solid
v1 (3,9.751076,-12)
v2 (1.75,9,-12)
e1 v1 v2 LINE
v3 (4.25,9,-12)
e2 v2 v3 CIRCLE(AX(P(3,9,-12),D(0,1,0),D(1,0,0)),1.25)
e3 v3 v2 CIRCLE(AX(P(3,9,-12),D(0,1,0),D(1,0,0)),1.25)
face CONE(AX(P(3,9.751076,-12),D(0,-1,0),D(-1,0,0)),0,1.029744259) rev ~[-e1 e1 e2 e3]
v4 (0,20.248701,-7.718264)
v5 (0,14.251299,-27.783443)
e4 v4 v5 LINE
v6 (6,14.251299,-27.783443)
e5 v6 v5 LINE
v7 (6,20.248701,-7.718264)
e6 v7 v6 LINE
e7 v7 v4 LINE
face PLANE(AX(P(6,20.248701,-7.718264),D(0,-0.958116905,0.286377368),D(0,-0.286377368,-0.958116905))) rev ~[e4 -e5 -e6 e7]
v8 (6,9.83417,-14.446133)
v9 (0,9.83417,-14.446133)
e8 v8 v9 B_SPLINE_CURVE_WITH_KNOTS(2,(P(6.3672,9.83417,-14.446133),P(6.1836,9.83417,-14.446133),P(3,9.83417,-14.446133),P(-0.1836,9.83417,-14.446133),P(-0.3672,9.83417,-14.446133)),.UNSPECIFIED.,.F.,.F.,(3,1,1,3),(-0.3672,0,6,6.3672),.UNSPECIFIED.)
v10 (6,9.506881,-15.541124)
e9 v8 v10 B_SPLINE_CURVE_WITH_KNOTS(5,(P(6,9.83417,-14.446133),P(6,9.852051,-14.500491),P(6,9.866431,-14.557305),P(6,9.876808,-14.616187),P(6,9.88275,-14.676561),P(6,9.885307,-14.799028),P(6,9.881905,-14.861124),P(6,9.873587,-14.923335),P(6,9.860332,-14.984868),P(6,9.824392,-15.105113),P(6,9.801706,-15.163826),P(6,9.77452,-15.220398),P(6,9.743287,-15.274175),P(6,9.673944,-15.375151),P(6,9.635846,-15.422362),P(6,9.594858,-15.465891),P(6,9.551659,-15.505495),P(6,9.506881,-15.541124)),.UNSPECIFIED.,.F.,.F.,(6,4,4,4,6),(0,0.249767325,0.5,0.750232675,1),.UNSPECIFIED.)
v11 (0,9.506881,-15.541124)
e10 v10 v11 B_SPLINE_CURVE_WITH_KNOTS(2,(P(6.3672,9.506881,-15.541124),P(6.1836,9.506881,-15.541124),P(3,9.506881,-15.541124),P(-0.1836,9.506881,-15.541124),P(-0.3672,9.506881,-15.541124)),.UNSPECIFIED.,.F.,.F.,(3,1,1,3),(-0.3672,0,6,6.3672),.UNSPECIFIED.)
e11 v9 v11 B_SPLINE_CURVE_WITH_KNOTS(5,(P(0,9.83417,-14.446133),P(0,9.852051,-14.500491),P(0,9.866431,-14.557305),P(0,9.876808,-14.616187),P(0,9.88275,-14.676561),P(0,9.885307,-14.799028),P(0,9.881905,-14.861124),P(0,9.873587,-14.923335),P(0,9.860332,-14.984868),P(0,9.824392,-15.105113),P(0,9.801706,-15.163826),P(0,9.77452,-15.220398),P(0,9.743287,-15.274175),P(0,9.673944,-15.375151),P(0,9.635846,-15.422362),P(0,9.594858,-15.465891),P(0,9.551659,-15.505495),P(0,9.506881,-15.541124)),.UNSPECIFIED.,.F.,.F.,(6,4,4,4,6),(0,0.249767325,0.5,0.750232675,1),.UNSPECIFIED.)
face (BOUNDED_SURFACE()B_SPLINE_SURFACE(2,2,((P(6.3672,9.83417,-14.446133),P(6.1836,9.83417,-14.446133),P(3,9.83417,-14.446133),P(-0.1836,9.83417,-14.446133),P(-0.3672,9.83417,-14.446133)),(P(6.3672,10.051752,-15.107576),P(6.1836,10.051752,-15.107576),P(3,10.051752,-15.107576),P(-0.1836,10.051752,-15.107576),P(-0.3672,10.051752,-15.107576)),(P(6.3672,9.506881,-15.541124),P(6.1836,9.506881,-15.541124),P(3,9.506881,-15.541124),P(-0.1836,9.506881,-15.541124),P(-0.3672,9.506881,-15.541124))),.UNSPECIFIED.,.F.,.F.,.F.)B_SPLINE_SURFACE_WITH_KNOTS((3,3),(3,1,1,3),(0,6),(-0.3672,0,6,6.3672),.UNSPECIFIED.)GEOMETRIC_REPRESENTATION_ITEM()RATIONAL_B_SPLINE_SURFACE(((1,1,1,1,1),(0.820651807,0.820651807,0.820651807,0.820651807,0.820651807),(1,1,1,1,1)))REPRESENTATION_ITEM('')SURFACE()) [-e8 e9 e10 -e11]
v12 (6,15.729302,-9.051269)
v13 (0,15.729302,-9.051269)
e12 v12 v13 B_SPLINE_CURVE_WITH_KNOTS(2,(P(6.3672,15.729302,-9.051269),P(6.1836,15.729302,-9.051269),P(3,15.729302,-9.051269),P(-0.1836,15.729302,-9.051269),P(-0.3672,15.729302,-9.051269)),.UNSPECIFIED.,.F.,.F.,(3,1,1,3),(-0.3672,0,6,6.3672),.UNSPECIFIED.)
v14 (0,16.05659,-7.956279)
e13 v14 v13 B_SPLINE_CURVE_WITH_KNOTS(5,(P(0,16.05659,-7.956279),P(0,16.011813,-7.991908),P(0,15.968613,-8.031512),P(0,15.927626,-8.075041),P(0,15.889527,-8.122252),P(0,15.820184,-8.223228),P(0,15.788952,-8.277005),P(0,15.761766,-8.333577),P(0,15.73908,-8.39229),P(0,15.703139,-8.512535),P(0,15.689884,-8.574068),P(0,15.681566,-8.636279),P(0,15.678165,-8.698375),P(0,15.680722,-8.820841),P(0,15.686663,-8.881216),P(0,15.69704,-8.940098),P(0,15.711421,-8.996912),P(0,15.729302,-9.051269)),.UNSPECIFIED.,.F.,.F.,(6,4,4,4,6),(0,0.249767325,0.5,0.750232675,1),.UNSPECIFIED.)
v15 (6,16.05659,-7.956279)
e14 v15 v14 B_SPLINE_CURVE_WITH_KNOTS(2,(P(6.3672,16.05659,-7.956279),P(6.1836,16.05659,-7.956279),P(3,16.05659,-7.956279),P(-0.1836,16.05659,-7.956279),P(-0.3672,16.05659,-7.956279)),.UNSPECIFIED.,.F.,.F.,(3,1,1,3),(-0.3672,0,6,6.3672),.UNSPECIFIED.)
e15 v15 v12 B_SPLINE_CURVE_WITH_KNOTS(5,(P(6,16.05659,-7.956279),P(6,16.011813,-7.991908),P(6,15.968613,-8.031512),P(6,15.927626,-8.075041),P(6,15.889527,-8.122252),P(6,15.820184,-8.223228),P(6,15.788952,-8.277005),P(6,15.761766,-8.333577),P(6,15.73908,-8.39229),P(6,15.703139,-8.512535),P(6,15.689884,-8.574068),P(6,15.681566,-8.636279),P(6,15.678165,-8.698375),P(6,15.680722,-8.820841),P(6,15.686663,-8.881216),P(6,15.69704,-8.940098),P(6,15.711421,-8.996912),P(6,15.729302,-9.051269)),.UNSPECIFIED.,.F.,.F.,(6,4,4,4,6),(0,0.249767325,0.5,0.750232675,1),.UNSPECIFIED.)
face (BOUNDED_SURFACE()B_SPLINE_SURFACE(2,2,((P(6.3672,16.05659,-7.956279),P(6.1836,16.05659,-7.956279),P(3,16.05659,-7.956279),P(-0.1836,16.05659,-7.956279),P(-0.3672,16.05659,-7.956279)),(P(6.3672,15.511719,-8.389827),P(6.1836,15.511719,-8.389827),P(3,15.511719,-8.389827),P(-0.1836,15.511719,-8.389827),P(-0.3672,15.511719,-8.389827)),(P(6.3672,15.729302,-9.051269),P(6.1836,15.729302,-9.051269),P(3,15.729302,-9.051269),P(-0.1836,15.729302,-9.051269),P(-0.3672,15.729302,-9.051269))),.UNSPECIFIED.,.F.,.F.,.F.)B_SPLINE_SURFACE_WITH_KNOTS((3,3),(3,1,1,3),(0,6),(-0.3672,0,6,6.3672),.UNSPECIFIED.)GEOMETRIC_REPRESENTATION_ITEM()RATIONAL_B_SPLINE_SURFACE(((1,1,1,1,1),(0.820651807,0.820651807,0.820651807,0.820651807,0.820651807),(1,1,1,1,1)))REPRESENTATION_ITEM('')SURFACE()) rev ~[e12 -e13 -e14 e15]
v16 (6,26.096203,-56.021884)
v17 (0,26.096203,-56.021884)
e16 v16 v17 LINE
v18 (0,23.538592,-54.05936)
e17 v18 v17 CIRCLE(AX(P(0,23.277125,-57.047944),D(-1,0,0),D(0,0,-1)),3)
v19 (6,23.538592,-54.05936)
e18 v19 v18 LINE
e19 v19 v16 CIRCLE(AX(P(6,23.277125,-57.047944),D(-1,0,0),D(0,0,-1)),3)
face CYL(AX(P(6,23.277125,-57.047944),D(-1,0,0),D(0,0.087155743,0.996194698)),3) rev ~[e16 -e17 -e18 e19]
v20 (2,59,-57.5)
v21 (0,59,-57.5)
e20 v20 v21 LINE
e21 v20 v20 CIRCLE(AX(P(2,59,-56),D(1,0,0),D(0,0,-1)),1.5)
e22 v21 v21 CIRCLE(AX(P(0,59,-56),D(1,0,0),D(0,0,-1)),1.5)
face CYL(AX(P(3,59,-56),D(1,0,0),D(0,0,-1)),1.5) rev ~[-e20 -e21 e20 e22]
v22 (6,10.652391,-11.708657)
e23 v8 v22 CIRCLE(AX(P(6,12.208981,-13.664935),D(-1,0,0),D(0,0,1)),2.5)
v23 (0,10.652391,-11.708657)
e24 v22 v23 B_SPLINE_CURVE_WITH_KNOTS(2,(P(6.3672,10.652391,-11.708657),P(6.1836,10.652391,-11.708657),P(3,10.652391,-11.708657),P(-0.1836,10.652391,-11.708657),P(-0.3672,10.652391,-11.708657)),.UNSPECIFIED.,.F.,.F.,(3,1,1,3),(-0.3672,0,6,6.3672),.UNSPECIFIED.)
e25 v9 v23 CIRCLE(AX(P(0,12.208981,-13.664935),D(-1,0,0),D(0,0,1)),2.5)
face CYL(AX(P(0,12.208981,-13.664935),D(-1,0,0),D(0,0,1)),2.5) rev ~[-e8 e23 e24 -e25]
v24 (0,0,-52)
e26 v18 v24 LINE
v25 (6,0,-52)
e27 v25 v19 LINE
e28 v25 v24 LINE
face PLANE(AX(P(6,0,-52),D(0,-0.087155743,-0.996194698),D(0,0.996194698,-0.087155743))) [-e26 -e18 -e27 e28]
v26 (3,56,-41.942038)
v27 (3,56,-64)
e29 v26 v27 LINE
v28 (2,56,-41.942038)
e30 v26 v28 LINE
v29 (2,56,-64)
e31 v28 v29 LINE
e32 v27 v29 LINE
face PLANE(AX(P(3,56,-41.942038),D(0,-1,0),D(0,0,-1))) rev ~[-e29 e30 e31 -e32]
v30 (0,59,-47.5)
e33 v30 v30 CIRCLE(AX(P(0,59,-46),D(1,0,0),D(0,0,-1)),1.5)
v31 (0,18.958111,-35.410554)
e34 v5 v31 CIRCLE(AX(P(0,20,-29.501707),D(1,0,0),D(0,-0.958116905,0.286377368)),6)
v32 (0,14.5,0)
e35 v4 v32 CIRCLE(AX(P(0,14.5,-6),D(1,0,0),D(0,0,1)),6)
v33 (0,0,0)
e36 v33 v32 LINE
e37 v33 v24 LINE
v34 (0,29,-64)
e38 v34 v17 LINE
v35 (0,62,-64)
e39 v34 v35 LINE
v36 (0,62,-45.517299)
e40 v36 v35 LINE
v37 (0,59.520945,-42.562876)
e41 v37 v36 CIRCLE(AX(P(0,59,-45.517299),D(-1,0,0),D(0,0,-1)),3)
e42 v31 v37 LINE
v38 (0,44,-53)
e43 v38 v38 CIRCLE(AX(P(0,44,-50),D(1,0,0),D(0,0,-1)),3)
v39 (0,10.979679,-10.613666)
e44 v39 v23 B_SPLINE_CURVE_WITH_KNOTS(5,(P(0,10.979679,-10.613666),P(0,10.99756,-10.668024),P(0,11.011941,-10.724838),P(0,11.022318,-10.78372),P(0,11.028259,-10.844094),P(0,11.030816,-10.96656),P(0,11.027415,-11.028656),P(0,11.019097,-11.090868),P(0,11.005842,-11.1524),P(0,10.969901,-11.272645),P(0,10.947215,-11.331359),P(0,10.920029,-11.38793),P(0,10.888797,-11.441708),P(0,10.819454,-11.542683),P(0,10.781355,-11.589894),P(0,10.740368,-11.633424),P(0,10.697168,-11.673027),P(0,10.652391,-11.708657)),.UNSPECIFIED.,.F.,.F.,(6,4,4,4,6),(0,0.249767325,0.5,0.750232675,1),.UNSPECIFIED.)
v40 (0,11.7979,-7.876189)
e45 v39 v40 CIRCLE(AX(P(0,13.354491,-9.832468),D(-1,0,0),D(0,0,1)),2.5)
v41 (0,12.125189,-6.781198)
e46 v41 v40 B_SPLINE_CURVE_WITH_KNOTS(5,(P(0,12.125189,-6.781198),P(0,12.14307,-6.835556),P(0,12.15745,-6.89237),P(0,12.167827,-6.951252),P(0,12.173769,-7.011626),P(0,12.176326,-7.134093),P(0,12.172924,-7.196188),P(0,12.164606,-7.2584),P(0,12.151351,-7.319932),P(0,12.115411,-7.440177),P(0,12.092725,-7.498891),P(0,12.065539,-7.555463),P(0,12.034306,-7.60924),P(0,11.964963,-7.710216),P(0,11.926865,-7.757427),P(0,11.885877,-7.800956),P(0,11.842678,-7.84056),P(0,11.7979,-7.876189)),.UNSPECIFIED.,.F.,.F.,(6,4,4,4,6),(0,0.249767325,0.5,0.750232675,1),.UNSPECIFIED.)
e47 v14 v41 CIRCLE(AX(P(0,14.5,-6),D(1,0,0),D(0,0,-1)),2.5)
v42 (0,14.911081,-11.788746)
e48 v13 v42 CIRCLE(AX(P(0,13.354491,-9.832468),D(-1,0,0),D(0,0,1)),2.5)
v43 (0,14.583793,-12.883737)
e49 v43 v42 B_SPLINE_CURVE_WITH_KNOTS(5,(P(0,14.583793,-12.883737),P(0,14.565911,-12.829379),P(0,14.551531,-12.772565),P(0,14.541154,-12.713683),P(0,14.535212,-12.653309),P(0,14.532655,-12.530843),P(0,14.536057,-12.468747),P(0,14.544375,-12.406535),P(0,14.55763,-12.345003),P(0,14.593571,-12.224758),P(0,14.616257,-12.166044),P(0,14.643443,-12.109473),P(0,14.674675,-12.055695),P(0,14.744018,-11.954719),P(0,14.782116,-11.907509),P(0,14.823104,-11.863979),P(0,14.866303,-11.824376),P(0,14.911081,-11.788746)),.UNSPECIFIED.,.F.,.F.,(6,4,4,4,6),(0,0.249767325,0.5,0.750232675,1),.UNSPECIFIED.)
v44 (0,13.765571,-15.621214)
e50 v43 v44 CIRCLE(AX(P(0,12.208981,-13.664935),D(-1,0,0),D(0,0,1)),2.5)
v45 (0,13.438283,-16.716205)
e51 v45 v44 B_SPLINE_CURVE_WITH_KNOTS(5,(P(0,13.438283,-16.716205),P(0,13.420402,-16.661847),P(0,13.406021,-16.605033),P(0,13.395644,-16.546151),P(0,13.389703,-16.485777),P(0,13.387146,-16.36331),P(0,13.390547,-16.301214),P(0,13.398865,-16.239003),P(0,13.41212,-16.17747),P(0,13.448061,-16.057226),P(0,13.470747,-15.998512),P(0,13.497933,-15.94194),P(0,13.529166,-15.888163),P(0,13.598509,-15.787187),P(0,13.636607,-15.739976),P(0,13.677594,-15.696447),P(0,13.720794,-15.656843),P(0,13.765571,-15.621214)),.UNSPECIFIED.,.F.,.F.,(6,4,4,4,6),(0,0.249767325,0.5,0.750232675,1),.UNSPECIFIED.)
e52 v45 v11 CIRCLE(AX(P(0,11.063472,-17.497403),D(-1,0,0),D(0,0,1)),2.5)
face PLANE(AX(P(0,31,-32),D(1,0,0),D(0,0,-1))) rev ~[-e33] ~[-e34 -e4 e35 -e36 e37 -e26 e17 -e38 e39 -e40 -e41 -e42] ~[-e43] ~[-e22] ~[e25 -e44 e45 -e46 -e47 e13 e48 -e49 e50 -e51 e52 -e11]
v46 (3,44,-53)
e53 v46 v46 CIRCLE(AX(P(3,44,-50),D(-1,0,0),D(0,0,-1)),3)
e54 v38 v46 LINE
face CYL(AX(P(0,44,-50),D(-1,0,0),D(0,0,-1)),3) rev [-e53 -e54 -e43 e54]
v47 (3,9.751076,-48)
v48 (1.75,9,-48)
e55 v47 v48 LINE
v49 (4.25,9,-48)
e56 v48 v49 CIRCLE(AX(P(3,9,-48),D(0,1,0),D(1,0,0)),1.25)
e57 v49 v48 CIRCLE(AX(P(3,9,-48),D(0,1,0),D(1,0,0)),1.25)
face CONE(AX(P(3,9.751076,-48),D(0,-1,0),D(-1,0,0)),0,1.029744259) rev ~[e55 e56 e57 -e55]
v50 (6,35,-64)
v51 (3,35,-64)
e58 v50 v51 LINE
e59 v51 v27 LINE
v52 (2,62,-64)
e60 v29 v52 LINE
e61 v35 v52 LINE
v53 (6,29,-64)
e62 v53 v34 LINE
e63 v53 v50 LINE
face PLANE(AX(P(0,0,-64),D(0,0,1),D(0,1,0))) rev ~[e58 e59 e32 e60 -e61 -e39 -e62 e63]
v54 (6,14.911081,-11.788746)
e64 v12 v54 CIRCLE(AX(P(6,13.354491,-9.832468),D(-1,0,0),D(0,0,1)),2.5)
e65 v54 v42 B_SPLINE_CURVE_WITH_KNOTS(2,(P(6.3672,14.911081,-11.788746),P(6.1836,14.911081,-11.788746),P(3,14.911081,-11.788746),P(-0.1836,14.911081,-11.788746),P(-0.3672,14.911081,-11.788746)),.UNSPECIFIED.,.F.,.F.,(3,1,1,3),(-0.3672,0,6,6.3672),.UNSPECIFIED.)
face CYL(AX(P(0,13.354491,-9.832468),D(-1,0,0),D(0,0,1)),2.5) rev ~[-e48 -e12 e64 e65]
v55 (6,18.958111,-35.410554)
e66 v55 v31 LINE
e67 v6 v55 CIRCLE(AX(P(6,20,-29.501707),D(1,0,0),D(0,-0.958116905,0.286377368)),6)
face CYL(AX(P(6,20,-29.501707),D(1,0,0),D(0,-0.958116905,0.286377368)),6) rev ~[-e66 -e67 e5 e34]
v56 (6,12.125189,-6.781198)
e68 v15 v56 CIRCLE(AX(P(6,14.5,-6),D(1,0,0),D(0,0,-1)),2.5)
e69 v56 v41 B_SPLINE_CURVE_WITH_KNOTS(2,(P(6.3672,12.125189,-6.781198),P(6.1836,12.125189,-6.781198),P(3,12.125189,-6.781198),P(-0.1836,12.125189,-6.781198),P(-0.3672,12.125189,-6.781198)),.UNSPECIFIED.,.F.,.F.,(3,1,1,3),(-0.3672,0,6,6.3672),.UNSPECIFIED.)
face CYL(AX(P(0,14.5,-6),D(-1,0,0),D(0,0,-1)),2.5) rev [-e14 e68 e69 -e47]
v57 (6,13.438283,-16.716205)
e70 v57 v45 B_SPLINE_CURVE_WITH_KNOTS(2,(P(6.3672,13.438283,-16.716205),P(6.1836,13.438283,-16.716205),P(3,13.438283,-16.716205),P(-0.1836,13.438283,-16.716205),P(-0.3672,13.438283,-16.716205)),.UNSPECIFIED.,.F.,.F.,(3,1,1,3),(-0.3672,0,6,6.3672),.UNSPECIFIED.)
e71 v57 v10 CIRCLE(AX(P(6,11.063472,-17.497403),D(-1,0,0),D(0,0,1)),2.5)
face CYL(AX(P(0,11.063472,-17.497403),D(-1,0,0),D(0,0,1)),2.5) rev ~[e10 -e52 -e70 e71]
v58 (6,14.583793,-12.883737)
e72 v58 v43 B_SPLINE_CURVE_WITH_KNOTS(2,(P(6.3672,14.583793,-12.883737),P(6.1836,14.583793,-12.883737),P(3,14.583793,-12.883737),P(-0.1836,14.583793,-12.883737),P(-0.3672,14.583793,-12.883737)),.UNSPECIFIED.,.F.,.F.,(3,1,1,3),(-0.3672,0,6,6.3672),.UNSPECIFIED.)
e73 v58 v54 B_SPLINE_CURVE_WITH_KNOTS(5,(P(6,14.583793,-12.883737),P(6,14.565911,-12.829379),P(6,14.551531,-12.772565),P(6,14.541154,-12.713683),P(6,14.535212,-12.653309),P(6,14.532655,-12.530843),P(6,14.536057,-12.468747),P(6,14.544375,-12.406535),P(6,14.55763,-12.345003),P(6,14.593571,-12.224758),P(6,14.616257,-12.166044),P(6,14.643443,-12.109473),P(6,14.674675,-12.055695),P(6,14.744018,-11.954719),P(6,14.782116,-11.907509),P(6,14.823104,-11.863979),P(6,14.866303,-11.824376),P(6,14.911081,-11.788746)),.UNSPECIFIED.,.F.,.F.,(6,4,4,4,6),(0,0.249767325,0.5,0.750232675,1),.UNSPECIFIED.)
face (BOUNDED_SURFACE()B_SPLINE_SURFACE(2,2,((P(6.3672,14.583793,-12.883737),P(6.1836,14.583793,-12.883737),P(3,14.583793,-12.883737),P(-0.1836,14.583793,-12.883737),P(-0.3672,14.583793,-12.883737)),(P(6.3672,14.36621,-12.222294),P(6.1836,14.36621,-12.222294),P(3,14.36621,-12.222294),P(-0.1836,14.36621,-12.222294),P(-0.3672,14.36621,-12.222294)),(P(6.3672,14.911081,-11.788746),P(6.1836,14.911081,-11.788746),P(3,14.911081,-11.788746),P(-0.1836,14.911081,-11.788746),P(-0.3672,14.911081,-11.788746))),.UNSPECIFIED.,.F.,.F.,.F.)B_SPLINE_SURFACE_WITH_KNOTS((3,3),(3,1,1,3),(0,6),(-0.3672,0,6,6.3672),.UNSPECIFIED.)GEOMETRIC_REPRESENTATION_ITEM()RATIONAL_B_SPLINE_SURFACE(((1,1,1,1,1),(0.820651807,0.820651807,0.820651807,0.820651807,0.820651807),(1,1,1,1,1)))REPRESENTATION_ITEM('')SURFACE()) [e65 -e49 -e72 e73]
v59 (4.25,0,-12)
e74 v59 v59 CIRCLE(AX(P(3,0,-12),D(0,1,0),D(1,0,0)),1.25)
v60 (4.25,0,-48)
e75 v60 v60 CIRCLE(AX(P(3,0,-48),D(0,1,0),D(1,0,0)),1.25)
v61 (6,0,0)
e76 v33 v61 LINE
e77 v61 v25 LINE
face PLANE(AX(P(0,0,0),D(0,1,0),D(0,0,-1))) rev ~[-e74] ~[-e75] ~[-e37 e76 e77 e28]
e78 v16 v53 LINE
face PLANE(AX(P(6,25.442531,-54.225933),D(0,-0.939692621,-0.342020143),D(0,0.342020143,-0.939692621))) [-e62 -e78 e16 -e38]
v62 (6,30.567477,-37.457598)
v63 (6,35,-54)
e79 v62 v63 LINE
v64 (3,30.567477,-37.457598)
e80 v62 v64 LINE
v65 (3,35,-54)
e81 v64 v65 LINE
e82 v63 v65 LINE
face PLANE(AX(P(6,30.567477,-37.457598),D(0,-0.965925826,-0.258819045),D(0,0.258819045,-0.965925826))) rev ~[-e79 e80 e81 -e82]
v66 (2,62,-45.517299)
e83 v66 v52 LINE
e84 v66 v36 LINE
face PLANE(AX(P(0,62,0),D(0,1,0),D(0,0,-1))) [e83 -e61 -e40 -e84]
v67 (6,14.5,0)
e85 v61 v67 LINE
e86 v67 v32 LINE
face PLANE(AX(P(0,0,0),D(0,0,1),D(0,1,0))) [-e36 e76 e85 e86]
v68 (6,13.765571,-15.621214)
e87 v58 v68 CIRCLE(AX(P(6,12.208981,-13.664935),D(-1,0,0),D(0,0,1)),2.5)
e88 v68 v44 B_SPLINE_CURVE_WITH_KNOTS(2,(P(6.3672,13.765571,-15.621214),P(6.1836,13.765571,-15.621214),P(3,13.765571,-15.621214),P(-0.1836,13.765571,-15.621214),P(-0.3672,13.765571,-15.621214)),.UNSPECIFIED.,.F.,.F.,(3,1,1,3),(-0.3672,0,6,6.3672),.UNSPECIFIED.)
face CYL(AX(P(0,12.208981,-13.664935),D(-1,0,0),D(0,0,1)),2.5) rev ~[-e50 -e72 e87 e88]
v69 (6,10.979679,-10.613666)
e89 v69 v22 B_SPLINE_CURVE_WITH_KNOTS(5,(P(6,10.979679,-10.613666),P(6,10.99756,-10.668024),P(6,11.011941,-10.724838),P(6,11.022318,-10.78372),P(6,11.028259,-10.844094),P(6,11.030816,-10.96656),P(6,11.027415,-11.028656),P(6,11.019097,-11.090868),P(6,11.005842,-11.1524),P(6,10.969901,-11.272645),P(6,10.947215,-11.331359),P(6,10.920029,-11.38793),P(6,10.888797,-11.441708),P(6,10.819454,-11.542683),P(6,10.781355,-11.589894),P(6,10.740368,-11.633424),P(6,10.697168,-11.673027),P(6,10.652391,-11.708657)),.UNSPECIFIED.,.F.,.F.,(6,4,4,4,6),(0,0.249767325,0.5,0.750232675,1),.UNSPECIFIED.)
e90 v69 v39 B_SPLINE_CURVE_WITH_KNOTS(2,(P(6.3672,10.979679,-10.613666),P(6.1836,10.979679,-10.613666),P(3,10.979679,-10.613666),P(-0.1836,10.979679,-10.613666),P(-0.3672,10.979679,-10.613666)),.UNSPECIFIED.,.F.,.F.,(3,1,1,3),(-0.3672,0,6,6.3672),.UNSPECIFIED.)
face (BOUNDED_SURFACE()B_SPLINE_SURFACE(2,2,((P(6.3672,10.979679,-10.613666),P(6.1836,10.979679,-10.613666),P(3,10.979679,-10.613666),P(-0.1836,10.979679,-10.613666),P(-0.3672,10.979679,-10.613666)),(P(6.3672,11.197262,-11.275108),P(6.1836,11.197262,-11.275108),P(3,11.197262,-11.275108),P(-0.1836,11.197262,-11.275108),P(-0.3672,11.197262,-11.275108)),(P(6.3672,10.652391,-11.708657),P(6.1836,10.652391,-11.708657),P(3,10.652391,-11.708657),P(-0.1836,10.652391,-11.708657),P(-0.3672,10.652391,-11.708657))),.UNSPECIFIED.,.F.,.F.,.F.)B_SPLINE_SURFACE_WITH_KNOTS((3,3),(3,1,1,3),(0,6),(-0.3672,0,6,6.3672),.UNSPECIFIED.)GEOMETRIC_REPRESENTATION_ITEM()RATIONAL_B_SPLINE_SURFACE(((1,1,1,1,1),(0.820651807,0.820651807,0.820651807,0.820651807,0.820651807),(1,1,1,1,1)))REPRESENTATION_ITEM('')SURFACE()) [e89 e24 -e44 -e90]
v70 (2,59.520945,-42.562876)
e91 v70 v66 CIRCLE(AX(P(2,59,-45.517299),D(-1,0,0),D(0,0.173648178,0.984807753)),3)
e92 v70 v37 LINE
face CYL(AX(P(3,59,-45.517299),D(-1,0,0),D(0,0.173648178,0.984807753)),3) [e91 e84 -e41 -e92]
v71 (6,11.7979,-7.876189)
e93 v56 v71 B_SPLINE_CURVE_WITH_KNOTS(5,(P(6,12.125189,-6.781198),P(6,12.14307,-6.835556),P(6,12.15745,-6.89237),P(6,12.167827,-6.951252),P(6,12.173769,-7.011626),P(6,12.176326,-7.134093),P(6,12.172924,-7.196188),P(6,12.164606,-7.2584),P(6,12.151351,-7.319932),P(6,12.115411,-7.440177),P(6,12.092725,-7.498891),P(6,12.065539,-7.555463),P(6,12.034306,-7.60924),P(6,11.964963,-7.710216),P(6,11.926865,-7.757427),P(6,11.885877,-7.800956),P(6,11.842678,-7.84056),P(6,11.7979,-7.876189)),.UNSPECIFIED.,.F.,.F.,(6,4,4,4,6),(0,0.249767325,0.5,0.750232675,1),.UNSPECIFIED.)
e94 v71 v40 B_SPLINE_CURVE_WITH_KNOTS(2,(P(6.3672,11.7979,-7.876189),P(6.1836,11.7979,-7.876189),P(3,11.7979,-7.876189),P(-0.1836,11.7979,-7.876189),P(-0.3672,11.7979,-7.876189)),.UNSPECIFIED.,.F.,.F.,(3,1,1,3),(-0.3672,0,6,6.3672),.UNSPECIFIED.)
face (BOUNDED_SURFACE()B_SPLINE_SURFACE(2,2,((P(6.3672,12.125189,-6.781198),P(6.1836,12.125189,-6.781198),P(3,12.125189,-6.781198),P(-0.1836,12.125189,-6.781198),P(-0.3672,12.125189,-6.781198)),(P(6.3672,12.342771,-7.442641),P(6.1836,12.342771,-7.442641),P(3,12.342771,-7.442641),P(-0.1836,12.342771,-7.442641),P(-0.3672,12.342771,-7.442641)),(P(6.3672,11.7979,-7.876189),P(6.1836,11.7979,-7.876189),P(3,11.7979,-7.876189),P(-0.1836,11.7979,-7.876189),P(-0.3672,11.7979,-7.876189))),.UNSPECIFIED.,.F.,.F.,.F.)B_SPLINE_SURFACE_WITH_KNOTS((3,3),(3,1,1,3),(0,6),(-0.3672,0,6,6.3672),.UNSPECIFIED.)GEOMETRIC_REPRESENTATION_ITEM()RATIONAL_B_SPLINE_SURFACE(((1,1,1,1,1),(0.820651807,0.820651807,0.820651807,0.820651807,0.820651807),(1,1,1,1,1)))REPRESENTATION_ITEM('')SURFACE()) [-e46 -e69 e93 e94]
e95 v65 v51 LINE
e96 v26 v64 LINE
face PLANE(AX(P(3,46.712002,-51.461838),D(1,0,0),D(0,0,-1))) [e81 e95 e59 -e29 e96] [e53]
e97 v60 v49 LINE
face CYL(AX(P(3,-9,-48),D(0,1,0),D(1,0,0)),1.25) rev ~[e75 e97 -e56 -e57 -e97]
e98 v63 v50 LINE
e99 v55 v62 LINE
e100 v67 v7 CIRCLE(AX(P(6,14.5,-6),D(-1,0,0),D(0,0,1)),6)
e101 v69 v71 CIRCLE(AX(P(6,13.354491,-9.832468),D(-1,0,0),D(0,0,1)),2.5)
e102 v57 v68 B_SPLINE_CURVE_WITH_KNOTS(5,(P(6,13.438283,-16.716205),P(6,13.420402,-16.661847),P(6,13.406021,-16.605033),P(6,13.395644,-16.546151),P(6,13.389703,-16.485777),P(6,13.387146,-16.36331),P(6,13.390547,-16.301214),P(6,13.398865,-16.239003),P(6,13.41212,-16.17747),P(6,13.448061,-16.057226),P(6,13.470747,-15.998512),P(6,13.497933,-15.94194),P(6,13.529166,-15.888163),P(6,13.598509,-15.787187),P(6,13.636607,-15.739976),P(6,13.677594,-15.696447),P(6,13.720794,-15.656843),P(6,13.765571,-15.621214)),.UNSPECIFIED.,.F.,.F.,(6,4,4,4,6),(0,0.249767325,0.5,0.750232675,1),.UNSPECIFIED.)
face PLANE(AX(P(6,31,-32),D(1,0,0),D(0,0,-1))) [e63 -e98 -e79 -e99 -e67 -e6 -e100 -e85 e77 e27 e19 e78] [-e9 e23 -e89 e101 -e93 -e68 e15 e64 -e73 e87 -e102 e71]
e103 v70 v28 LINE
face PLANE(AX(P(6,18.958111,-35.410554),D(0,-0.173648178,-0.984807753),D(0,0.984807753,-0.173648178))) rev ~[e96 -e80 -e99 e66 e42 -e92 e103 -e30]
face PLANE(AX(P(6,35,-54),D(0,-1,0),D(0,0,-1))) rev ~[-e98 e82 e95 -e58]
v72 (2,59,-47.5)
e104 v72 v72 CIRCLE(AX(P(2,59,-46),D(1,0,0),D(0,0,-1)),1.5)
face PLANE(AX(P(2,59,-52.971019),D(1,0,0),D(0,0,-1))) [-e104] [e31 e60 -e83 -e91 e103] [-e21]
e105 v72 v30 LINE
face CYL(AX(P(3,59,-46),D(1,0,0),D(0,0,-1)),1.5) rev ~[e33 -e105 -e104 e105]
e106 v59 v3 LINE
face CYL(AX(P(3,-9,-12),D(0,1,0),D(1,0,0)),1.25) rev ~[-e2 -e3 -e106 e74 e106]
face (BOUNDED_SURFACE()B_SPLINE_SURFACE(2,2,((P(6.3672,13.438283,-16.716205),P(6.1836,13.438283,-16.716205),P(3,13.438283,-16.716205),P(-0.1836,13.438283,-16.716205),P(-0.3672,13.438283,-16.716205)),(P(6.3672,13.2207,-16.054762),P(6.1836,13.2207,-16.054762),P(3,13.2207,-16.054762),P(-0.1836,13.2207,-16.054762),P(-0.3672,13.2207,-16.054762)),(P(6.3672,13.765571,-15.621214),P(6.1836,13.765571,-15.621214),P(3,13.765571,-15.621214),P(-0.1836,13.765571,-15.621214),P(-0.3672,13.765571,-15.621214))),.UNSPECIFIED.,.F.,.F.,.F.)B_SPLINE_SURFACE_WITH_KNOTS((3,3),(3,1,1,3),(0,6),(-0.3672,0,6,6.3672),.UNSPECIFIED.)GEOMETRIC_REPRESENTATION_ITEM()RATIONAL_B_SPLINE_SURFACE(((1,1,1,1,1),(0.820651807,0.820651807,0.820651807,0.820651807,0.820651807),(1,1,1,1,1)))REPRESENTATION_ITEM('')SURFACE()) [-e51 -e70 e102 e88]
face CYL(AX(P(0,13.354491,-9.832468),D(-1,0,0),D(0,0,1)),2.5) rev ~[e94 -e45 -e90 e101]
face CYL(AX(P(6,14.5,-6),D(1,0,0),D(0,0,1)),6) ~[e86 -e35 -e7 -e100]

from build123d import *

# Parameters (mm, degrees)
SKETCH1_W                   = 64
SKETCH1_H                   = 62
SKETCH1_R                   = 2.5
SKETCH1_R_2                 = 3
BOSS_EXTRUDE1_DEPTH         = 6
CUT_EXTRUDE2_REACH          = 8
FILLET2_R                   = 3
TAP_DRILL_FOR_M3_TAP1_D     = 2.5
TAP_DRILL_FOR_M3_TAP1_DEPTH = 9
TAP_DRILL_FOR_M3_TAP1_TIP   = 0.751075774
CUT_EXTRUDE3_DEPTH          = 8
CUT_EXTRUDE4_DEPTH          = 3
FILLET3_R                   = 3
CUT_EXTRUDE5_REACH          = 5
SKETCH14_R                  = 1.5
SKETCH15_R                  = 2.5
CUT_EXTRUDE6_DEPTH          = 6
LPATTERN3_COUNT             = 3
LPATTERN3_PITCH             = 4
FILLET4_R                   = 1
SKETCH16_W                  = 22.057961884
SKETCH16_H                  = 6
CUT_EXTRUDE7_DEPTH          = 1


with BuildPart() as part:
    # Sketch1 → Boss-Extrude1 (new body)
    with BuildSketch(Plane(origin=(0, 0, 0), x_dir=(0, 0, -1), z_dir=(1, 0, 0))):
        with Locations((32, 31)):
            Rectangle(SKETCH1_W, SKETCH1_H)
        with Locations((6, 14.5)):
            Circle(SKETCH1_R, mode=Mode.SUBTRACT)
        with Locations((50, 44)):
            Circle(SKETCH1_R_2, mode=Mode.SUBTRACT)
    extrude(amount=BOSS_EXTRUDE1_DEPTH)

    # Sketch3 → Cut-Extrude2 (cut, up to next)
    with BuildSketch(Plane(origin=(6, 0, 0), x_dir=(0, 0, -1), z_dir=(1, 0, 0)), mode=Mode.PRIVATE) as cut_extrude2_sk1:
        Polygon((64, 0), (52, 0), (54.225932994, 25.442530542), (64, 29), align=None)
    cut_extrude2_tool1 = extrude(cut_extrude2_sk1.sketch, amount=-CUT_EXTRUDE2_REACH, mode=Mode.PRIVATE) & part.part
    add(cut_extrude2_tool1.solids().sort_by_distance((6, 13.1347, -58.667711))[0], mode=Mode.SUBTRACT)

    # Fillet2
    fillet2_edges = [part.edges().sort_by_distance(p)[0] for p in [
        (3, 25.442530542, -54.225932994),
    ]]
    fillet(fillet2_edges, radius=FILLET2_R)

    # Tap Drill for M3 Tap1
    with Locations(Plane(origin=(0, 0, 0), x_dir=(-1, 0, 0), z_dir=(0, -1, 0))):
        with Locations((-3, 48), (-3, 12)):
            Hole(TAP_DRILL_FOR_M3_TAP1_D / 2, depth=TAP_DRILL_FOR_M3_TAP1_DEPTH)
            with Locations((0, 0, -(TAP_DRILL_FOR_M3_TAP1_DEPTH + TAP_DRILL_FOR_M3_TAP1_TIP / 2))):  # 118° drill point
                Cone(0, TAP_DRILL_FOR_M3_TAP1_D / 2, TAP_DRILL_FOR_M3_TAP1_TIP, mode=Mode.SUBTRACT)

    # Sketch9 → Cut-Extrude3 (cut)
    with BuildSketch(Plane(origin=(6, 0, 0), x_dir=(0, 0, -1), z_dir=(1, 0, 0))):
        with BuildLine():
            Line((7.718264205, 20.248701429), (27.783442934, 14.251298571))
            ThreePointArc((27.783442934, 14.251298571), (32.652701535, 14.894000165), (35.410553657, 18.958110934))
            Line((35.410553657, 18.958110934), (43, 62))
            Line((43, 62), (0, 62))
            Line((0, 62), (0, 14.5))
            ThreePointArc((0, 14.5), (2.415978881, 19.311942707), (7.718264205, 20.248701429))
        make_face()
    extrude(amount=-CUT_EXTRUDE3_DEPTH, mode=Mode.SUBTRACT)

    # Sketch13 → Cut-Extrude4 (cut)
    with BuildSketch(Plane(origin=(6, 0, 0), x_dir=(0, 0, -1), z_dir=(1, 0, 0))):
        Polygon((54, 35), (64, 35), (64, 62), (43, 62), (37.457598082, 30.567476765), align=None)
    extrude(amount=-CUT_EXTRUDE4_DEPTH, mode=Mode.SUBTRACT)

    # Fillet3
    fillet3_edges = [part.edges().sort_by_distance(p)[0] for p in [
        (1.5, 62, -43),
    ]]
    fillet(fillet3_edges, radius=FILLET3_R)

    # Sketch14 → Cut-Extrude5 (cut, up to next)
    with BuildSketch(Plane(origin=(3, 0, 0), x_dir=(0, 0, -1), z_dir=(1, 0, 0)), mode=Mode.PRIVATE) as cut_extrude5_sk1:
        with Locations((56, 59)):
            Circle(SKETCH14_R)
    cut_extrude5_tool1 = extrude(cut_extrude5_sk1.sketch, amount=-CUT_EXTRUDE5_REACH, mode=Mode.PRIVATE) & part.part
    add(cut_extrude5_tool1.solids().sort_by_distance((3, 59, -56))[0], mode=Mode.SUBTRACT)
    # Sketch14 → Cut-Extrude5 (cut, up to next)
    with BuildSketch(Plane(origin=(3, 0, 0), x_dir=(0, 0, -1), z_dir=(1, 0, 0)), mode=Mode.PRIVATE) as cut_extrude5_sk2:
        with Locations((46, 59)):
            Circle(SKETCH14_R)
    cut_extrude5_tool2 = extrude(cut_extrude5_sk2.sketch, amount=-CUT_EXTRUDE5_REACH, mode=Mode.PRIVATE) & part.part
    add(cut_extrude5_tool2.solids().sort_by_distance((3, 59, -46))[0], mode=Mode.SUBTRACT)

    # Sketch15 → Cut-Extrude6 (cut)
    with BuildSketch(Plane.ZY):
        with Locations((-9.832467619, 13.35449053)):
            Circle(SKETCH15_R)
    cut_extrude6 = extrude(amount=-CUT_EXTRUDE6_DEPTH, mode=Mode.SUBTRACT)

    # LPattern3: Cut-Extrude6 ×3
    with Locations(*[Vector(0, -0.286377368, -0.958116905) * (i * LPATTERN3_PITCH) for i in range(1, LPATTERN3_COUNT)]):
        add(cut_extrude6, mode=Mode.SUBTRACT)

    # Fillet4
    fillet4_edges = [part.edges().sort_by_distance(p)[0] for p in [
        (3, 15.364420622, -8.345799861),
        (3, 12.490069908, -7.486667758),
        (3, 14.218911152, -12.17826748),
        (3, 11.344560437, -11.319135378),
        (3, 10.199050967, -15.151602997),
        (3, 13.073401682, -16.0107351),
    ]]
    fillet(fillet4_edges, radius=FILLET4_R)

    # Sketch16 → Cut-Extrude7 (cut)
    with BuildSketch(Plane(origin=(3, 0, 0), x_dir=(0, 0, -1), z_dir=(1, 0, 0))):
        with Locations((52.971019058, 59)):
            Rectangle(SKETCH16_W, SKETCH16_H)
    extrude(amount=-CUT_EXTRUDE7_DEPTH, mode=Mode.SUBTRACT)


solid = part.part
